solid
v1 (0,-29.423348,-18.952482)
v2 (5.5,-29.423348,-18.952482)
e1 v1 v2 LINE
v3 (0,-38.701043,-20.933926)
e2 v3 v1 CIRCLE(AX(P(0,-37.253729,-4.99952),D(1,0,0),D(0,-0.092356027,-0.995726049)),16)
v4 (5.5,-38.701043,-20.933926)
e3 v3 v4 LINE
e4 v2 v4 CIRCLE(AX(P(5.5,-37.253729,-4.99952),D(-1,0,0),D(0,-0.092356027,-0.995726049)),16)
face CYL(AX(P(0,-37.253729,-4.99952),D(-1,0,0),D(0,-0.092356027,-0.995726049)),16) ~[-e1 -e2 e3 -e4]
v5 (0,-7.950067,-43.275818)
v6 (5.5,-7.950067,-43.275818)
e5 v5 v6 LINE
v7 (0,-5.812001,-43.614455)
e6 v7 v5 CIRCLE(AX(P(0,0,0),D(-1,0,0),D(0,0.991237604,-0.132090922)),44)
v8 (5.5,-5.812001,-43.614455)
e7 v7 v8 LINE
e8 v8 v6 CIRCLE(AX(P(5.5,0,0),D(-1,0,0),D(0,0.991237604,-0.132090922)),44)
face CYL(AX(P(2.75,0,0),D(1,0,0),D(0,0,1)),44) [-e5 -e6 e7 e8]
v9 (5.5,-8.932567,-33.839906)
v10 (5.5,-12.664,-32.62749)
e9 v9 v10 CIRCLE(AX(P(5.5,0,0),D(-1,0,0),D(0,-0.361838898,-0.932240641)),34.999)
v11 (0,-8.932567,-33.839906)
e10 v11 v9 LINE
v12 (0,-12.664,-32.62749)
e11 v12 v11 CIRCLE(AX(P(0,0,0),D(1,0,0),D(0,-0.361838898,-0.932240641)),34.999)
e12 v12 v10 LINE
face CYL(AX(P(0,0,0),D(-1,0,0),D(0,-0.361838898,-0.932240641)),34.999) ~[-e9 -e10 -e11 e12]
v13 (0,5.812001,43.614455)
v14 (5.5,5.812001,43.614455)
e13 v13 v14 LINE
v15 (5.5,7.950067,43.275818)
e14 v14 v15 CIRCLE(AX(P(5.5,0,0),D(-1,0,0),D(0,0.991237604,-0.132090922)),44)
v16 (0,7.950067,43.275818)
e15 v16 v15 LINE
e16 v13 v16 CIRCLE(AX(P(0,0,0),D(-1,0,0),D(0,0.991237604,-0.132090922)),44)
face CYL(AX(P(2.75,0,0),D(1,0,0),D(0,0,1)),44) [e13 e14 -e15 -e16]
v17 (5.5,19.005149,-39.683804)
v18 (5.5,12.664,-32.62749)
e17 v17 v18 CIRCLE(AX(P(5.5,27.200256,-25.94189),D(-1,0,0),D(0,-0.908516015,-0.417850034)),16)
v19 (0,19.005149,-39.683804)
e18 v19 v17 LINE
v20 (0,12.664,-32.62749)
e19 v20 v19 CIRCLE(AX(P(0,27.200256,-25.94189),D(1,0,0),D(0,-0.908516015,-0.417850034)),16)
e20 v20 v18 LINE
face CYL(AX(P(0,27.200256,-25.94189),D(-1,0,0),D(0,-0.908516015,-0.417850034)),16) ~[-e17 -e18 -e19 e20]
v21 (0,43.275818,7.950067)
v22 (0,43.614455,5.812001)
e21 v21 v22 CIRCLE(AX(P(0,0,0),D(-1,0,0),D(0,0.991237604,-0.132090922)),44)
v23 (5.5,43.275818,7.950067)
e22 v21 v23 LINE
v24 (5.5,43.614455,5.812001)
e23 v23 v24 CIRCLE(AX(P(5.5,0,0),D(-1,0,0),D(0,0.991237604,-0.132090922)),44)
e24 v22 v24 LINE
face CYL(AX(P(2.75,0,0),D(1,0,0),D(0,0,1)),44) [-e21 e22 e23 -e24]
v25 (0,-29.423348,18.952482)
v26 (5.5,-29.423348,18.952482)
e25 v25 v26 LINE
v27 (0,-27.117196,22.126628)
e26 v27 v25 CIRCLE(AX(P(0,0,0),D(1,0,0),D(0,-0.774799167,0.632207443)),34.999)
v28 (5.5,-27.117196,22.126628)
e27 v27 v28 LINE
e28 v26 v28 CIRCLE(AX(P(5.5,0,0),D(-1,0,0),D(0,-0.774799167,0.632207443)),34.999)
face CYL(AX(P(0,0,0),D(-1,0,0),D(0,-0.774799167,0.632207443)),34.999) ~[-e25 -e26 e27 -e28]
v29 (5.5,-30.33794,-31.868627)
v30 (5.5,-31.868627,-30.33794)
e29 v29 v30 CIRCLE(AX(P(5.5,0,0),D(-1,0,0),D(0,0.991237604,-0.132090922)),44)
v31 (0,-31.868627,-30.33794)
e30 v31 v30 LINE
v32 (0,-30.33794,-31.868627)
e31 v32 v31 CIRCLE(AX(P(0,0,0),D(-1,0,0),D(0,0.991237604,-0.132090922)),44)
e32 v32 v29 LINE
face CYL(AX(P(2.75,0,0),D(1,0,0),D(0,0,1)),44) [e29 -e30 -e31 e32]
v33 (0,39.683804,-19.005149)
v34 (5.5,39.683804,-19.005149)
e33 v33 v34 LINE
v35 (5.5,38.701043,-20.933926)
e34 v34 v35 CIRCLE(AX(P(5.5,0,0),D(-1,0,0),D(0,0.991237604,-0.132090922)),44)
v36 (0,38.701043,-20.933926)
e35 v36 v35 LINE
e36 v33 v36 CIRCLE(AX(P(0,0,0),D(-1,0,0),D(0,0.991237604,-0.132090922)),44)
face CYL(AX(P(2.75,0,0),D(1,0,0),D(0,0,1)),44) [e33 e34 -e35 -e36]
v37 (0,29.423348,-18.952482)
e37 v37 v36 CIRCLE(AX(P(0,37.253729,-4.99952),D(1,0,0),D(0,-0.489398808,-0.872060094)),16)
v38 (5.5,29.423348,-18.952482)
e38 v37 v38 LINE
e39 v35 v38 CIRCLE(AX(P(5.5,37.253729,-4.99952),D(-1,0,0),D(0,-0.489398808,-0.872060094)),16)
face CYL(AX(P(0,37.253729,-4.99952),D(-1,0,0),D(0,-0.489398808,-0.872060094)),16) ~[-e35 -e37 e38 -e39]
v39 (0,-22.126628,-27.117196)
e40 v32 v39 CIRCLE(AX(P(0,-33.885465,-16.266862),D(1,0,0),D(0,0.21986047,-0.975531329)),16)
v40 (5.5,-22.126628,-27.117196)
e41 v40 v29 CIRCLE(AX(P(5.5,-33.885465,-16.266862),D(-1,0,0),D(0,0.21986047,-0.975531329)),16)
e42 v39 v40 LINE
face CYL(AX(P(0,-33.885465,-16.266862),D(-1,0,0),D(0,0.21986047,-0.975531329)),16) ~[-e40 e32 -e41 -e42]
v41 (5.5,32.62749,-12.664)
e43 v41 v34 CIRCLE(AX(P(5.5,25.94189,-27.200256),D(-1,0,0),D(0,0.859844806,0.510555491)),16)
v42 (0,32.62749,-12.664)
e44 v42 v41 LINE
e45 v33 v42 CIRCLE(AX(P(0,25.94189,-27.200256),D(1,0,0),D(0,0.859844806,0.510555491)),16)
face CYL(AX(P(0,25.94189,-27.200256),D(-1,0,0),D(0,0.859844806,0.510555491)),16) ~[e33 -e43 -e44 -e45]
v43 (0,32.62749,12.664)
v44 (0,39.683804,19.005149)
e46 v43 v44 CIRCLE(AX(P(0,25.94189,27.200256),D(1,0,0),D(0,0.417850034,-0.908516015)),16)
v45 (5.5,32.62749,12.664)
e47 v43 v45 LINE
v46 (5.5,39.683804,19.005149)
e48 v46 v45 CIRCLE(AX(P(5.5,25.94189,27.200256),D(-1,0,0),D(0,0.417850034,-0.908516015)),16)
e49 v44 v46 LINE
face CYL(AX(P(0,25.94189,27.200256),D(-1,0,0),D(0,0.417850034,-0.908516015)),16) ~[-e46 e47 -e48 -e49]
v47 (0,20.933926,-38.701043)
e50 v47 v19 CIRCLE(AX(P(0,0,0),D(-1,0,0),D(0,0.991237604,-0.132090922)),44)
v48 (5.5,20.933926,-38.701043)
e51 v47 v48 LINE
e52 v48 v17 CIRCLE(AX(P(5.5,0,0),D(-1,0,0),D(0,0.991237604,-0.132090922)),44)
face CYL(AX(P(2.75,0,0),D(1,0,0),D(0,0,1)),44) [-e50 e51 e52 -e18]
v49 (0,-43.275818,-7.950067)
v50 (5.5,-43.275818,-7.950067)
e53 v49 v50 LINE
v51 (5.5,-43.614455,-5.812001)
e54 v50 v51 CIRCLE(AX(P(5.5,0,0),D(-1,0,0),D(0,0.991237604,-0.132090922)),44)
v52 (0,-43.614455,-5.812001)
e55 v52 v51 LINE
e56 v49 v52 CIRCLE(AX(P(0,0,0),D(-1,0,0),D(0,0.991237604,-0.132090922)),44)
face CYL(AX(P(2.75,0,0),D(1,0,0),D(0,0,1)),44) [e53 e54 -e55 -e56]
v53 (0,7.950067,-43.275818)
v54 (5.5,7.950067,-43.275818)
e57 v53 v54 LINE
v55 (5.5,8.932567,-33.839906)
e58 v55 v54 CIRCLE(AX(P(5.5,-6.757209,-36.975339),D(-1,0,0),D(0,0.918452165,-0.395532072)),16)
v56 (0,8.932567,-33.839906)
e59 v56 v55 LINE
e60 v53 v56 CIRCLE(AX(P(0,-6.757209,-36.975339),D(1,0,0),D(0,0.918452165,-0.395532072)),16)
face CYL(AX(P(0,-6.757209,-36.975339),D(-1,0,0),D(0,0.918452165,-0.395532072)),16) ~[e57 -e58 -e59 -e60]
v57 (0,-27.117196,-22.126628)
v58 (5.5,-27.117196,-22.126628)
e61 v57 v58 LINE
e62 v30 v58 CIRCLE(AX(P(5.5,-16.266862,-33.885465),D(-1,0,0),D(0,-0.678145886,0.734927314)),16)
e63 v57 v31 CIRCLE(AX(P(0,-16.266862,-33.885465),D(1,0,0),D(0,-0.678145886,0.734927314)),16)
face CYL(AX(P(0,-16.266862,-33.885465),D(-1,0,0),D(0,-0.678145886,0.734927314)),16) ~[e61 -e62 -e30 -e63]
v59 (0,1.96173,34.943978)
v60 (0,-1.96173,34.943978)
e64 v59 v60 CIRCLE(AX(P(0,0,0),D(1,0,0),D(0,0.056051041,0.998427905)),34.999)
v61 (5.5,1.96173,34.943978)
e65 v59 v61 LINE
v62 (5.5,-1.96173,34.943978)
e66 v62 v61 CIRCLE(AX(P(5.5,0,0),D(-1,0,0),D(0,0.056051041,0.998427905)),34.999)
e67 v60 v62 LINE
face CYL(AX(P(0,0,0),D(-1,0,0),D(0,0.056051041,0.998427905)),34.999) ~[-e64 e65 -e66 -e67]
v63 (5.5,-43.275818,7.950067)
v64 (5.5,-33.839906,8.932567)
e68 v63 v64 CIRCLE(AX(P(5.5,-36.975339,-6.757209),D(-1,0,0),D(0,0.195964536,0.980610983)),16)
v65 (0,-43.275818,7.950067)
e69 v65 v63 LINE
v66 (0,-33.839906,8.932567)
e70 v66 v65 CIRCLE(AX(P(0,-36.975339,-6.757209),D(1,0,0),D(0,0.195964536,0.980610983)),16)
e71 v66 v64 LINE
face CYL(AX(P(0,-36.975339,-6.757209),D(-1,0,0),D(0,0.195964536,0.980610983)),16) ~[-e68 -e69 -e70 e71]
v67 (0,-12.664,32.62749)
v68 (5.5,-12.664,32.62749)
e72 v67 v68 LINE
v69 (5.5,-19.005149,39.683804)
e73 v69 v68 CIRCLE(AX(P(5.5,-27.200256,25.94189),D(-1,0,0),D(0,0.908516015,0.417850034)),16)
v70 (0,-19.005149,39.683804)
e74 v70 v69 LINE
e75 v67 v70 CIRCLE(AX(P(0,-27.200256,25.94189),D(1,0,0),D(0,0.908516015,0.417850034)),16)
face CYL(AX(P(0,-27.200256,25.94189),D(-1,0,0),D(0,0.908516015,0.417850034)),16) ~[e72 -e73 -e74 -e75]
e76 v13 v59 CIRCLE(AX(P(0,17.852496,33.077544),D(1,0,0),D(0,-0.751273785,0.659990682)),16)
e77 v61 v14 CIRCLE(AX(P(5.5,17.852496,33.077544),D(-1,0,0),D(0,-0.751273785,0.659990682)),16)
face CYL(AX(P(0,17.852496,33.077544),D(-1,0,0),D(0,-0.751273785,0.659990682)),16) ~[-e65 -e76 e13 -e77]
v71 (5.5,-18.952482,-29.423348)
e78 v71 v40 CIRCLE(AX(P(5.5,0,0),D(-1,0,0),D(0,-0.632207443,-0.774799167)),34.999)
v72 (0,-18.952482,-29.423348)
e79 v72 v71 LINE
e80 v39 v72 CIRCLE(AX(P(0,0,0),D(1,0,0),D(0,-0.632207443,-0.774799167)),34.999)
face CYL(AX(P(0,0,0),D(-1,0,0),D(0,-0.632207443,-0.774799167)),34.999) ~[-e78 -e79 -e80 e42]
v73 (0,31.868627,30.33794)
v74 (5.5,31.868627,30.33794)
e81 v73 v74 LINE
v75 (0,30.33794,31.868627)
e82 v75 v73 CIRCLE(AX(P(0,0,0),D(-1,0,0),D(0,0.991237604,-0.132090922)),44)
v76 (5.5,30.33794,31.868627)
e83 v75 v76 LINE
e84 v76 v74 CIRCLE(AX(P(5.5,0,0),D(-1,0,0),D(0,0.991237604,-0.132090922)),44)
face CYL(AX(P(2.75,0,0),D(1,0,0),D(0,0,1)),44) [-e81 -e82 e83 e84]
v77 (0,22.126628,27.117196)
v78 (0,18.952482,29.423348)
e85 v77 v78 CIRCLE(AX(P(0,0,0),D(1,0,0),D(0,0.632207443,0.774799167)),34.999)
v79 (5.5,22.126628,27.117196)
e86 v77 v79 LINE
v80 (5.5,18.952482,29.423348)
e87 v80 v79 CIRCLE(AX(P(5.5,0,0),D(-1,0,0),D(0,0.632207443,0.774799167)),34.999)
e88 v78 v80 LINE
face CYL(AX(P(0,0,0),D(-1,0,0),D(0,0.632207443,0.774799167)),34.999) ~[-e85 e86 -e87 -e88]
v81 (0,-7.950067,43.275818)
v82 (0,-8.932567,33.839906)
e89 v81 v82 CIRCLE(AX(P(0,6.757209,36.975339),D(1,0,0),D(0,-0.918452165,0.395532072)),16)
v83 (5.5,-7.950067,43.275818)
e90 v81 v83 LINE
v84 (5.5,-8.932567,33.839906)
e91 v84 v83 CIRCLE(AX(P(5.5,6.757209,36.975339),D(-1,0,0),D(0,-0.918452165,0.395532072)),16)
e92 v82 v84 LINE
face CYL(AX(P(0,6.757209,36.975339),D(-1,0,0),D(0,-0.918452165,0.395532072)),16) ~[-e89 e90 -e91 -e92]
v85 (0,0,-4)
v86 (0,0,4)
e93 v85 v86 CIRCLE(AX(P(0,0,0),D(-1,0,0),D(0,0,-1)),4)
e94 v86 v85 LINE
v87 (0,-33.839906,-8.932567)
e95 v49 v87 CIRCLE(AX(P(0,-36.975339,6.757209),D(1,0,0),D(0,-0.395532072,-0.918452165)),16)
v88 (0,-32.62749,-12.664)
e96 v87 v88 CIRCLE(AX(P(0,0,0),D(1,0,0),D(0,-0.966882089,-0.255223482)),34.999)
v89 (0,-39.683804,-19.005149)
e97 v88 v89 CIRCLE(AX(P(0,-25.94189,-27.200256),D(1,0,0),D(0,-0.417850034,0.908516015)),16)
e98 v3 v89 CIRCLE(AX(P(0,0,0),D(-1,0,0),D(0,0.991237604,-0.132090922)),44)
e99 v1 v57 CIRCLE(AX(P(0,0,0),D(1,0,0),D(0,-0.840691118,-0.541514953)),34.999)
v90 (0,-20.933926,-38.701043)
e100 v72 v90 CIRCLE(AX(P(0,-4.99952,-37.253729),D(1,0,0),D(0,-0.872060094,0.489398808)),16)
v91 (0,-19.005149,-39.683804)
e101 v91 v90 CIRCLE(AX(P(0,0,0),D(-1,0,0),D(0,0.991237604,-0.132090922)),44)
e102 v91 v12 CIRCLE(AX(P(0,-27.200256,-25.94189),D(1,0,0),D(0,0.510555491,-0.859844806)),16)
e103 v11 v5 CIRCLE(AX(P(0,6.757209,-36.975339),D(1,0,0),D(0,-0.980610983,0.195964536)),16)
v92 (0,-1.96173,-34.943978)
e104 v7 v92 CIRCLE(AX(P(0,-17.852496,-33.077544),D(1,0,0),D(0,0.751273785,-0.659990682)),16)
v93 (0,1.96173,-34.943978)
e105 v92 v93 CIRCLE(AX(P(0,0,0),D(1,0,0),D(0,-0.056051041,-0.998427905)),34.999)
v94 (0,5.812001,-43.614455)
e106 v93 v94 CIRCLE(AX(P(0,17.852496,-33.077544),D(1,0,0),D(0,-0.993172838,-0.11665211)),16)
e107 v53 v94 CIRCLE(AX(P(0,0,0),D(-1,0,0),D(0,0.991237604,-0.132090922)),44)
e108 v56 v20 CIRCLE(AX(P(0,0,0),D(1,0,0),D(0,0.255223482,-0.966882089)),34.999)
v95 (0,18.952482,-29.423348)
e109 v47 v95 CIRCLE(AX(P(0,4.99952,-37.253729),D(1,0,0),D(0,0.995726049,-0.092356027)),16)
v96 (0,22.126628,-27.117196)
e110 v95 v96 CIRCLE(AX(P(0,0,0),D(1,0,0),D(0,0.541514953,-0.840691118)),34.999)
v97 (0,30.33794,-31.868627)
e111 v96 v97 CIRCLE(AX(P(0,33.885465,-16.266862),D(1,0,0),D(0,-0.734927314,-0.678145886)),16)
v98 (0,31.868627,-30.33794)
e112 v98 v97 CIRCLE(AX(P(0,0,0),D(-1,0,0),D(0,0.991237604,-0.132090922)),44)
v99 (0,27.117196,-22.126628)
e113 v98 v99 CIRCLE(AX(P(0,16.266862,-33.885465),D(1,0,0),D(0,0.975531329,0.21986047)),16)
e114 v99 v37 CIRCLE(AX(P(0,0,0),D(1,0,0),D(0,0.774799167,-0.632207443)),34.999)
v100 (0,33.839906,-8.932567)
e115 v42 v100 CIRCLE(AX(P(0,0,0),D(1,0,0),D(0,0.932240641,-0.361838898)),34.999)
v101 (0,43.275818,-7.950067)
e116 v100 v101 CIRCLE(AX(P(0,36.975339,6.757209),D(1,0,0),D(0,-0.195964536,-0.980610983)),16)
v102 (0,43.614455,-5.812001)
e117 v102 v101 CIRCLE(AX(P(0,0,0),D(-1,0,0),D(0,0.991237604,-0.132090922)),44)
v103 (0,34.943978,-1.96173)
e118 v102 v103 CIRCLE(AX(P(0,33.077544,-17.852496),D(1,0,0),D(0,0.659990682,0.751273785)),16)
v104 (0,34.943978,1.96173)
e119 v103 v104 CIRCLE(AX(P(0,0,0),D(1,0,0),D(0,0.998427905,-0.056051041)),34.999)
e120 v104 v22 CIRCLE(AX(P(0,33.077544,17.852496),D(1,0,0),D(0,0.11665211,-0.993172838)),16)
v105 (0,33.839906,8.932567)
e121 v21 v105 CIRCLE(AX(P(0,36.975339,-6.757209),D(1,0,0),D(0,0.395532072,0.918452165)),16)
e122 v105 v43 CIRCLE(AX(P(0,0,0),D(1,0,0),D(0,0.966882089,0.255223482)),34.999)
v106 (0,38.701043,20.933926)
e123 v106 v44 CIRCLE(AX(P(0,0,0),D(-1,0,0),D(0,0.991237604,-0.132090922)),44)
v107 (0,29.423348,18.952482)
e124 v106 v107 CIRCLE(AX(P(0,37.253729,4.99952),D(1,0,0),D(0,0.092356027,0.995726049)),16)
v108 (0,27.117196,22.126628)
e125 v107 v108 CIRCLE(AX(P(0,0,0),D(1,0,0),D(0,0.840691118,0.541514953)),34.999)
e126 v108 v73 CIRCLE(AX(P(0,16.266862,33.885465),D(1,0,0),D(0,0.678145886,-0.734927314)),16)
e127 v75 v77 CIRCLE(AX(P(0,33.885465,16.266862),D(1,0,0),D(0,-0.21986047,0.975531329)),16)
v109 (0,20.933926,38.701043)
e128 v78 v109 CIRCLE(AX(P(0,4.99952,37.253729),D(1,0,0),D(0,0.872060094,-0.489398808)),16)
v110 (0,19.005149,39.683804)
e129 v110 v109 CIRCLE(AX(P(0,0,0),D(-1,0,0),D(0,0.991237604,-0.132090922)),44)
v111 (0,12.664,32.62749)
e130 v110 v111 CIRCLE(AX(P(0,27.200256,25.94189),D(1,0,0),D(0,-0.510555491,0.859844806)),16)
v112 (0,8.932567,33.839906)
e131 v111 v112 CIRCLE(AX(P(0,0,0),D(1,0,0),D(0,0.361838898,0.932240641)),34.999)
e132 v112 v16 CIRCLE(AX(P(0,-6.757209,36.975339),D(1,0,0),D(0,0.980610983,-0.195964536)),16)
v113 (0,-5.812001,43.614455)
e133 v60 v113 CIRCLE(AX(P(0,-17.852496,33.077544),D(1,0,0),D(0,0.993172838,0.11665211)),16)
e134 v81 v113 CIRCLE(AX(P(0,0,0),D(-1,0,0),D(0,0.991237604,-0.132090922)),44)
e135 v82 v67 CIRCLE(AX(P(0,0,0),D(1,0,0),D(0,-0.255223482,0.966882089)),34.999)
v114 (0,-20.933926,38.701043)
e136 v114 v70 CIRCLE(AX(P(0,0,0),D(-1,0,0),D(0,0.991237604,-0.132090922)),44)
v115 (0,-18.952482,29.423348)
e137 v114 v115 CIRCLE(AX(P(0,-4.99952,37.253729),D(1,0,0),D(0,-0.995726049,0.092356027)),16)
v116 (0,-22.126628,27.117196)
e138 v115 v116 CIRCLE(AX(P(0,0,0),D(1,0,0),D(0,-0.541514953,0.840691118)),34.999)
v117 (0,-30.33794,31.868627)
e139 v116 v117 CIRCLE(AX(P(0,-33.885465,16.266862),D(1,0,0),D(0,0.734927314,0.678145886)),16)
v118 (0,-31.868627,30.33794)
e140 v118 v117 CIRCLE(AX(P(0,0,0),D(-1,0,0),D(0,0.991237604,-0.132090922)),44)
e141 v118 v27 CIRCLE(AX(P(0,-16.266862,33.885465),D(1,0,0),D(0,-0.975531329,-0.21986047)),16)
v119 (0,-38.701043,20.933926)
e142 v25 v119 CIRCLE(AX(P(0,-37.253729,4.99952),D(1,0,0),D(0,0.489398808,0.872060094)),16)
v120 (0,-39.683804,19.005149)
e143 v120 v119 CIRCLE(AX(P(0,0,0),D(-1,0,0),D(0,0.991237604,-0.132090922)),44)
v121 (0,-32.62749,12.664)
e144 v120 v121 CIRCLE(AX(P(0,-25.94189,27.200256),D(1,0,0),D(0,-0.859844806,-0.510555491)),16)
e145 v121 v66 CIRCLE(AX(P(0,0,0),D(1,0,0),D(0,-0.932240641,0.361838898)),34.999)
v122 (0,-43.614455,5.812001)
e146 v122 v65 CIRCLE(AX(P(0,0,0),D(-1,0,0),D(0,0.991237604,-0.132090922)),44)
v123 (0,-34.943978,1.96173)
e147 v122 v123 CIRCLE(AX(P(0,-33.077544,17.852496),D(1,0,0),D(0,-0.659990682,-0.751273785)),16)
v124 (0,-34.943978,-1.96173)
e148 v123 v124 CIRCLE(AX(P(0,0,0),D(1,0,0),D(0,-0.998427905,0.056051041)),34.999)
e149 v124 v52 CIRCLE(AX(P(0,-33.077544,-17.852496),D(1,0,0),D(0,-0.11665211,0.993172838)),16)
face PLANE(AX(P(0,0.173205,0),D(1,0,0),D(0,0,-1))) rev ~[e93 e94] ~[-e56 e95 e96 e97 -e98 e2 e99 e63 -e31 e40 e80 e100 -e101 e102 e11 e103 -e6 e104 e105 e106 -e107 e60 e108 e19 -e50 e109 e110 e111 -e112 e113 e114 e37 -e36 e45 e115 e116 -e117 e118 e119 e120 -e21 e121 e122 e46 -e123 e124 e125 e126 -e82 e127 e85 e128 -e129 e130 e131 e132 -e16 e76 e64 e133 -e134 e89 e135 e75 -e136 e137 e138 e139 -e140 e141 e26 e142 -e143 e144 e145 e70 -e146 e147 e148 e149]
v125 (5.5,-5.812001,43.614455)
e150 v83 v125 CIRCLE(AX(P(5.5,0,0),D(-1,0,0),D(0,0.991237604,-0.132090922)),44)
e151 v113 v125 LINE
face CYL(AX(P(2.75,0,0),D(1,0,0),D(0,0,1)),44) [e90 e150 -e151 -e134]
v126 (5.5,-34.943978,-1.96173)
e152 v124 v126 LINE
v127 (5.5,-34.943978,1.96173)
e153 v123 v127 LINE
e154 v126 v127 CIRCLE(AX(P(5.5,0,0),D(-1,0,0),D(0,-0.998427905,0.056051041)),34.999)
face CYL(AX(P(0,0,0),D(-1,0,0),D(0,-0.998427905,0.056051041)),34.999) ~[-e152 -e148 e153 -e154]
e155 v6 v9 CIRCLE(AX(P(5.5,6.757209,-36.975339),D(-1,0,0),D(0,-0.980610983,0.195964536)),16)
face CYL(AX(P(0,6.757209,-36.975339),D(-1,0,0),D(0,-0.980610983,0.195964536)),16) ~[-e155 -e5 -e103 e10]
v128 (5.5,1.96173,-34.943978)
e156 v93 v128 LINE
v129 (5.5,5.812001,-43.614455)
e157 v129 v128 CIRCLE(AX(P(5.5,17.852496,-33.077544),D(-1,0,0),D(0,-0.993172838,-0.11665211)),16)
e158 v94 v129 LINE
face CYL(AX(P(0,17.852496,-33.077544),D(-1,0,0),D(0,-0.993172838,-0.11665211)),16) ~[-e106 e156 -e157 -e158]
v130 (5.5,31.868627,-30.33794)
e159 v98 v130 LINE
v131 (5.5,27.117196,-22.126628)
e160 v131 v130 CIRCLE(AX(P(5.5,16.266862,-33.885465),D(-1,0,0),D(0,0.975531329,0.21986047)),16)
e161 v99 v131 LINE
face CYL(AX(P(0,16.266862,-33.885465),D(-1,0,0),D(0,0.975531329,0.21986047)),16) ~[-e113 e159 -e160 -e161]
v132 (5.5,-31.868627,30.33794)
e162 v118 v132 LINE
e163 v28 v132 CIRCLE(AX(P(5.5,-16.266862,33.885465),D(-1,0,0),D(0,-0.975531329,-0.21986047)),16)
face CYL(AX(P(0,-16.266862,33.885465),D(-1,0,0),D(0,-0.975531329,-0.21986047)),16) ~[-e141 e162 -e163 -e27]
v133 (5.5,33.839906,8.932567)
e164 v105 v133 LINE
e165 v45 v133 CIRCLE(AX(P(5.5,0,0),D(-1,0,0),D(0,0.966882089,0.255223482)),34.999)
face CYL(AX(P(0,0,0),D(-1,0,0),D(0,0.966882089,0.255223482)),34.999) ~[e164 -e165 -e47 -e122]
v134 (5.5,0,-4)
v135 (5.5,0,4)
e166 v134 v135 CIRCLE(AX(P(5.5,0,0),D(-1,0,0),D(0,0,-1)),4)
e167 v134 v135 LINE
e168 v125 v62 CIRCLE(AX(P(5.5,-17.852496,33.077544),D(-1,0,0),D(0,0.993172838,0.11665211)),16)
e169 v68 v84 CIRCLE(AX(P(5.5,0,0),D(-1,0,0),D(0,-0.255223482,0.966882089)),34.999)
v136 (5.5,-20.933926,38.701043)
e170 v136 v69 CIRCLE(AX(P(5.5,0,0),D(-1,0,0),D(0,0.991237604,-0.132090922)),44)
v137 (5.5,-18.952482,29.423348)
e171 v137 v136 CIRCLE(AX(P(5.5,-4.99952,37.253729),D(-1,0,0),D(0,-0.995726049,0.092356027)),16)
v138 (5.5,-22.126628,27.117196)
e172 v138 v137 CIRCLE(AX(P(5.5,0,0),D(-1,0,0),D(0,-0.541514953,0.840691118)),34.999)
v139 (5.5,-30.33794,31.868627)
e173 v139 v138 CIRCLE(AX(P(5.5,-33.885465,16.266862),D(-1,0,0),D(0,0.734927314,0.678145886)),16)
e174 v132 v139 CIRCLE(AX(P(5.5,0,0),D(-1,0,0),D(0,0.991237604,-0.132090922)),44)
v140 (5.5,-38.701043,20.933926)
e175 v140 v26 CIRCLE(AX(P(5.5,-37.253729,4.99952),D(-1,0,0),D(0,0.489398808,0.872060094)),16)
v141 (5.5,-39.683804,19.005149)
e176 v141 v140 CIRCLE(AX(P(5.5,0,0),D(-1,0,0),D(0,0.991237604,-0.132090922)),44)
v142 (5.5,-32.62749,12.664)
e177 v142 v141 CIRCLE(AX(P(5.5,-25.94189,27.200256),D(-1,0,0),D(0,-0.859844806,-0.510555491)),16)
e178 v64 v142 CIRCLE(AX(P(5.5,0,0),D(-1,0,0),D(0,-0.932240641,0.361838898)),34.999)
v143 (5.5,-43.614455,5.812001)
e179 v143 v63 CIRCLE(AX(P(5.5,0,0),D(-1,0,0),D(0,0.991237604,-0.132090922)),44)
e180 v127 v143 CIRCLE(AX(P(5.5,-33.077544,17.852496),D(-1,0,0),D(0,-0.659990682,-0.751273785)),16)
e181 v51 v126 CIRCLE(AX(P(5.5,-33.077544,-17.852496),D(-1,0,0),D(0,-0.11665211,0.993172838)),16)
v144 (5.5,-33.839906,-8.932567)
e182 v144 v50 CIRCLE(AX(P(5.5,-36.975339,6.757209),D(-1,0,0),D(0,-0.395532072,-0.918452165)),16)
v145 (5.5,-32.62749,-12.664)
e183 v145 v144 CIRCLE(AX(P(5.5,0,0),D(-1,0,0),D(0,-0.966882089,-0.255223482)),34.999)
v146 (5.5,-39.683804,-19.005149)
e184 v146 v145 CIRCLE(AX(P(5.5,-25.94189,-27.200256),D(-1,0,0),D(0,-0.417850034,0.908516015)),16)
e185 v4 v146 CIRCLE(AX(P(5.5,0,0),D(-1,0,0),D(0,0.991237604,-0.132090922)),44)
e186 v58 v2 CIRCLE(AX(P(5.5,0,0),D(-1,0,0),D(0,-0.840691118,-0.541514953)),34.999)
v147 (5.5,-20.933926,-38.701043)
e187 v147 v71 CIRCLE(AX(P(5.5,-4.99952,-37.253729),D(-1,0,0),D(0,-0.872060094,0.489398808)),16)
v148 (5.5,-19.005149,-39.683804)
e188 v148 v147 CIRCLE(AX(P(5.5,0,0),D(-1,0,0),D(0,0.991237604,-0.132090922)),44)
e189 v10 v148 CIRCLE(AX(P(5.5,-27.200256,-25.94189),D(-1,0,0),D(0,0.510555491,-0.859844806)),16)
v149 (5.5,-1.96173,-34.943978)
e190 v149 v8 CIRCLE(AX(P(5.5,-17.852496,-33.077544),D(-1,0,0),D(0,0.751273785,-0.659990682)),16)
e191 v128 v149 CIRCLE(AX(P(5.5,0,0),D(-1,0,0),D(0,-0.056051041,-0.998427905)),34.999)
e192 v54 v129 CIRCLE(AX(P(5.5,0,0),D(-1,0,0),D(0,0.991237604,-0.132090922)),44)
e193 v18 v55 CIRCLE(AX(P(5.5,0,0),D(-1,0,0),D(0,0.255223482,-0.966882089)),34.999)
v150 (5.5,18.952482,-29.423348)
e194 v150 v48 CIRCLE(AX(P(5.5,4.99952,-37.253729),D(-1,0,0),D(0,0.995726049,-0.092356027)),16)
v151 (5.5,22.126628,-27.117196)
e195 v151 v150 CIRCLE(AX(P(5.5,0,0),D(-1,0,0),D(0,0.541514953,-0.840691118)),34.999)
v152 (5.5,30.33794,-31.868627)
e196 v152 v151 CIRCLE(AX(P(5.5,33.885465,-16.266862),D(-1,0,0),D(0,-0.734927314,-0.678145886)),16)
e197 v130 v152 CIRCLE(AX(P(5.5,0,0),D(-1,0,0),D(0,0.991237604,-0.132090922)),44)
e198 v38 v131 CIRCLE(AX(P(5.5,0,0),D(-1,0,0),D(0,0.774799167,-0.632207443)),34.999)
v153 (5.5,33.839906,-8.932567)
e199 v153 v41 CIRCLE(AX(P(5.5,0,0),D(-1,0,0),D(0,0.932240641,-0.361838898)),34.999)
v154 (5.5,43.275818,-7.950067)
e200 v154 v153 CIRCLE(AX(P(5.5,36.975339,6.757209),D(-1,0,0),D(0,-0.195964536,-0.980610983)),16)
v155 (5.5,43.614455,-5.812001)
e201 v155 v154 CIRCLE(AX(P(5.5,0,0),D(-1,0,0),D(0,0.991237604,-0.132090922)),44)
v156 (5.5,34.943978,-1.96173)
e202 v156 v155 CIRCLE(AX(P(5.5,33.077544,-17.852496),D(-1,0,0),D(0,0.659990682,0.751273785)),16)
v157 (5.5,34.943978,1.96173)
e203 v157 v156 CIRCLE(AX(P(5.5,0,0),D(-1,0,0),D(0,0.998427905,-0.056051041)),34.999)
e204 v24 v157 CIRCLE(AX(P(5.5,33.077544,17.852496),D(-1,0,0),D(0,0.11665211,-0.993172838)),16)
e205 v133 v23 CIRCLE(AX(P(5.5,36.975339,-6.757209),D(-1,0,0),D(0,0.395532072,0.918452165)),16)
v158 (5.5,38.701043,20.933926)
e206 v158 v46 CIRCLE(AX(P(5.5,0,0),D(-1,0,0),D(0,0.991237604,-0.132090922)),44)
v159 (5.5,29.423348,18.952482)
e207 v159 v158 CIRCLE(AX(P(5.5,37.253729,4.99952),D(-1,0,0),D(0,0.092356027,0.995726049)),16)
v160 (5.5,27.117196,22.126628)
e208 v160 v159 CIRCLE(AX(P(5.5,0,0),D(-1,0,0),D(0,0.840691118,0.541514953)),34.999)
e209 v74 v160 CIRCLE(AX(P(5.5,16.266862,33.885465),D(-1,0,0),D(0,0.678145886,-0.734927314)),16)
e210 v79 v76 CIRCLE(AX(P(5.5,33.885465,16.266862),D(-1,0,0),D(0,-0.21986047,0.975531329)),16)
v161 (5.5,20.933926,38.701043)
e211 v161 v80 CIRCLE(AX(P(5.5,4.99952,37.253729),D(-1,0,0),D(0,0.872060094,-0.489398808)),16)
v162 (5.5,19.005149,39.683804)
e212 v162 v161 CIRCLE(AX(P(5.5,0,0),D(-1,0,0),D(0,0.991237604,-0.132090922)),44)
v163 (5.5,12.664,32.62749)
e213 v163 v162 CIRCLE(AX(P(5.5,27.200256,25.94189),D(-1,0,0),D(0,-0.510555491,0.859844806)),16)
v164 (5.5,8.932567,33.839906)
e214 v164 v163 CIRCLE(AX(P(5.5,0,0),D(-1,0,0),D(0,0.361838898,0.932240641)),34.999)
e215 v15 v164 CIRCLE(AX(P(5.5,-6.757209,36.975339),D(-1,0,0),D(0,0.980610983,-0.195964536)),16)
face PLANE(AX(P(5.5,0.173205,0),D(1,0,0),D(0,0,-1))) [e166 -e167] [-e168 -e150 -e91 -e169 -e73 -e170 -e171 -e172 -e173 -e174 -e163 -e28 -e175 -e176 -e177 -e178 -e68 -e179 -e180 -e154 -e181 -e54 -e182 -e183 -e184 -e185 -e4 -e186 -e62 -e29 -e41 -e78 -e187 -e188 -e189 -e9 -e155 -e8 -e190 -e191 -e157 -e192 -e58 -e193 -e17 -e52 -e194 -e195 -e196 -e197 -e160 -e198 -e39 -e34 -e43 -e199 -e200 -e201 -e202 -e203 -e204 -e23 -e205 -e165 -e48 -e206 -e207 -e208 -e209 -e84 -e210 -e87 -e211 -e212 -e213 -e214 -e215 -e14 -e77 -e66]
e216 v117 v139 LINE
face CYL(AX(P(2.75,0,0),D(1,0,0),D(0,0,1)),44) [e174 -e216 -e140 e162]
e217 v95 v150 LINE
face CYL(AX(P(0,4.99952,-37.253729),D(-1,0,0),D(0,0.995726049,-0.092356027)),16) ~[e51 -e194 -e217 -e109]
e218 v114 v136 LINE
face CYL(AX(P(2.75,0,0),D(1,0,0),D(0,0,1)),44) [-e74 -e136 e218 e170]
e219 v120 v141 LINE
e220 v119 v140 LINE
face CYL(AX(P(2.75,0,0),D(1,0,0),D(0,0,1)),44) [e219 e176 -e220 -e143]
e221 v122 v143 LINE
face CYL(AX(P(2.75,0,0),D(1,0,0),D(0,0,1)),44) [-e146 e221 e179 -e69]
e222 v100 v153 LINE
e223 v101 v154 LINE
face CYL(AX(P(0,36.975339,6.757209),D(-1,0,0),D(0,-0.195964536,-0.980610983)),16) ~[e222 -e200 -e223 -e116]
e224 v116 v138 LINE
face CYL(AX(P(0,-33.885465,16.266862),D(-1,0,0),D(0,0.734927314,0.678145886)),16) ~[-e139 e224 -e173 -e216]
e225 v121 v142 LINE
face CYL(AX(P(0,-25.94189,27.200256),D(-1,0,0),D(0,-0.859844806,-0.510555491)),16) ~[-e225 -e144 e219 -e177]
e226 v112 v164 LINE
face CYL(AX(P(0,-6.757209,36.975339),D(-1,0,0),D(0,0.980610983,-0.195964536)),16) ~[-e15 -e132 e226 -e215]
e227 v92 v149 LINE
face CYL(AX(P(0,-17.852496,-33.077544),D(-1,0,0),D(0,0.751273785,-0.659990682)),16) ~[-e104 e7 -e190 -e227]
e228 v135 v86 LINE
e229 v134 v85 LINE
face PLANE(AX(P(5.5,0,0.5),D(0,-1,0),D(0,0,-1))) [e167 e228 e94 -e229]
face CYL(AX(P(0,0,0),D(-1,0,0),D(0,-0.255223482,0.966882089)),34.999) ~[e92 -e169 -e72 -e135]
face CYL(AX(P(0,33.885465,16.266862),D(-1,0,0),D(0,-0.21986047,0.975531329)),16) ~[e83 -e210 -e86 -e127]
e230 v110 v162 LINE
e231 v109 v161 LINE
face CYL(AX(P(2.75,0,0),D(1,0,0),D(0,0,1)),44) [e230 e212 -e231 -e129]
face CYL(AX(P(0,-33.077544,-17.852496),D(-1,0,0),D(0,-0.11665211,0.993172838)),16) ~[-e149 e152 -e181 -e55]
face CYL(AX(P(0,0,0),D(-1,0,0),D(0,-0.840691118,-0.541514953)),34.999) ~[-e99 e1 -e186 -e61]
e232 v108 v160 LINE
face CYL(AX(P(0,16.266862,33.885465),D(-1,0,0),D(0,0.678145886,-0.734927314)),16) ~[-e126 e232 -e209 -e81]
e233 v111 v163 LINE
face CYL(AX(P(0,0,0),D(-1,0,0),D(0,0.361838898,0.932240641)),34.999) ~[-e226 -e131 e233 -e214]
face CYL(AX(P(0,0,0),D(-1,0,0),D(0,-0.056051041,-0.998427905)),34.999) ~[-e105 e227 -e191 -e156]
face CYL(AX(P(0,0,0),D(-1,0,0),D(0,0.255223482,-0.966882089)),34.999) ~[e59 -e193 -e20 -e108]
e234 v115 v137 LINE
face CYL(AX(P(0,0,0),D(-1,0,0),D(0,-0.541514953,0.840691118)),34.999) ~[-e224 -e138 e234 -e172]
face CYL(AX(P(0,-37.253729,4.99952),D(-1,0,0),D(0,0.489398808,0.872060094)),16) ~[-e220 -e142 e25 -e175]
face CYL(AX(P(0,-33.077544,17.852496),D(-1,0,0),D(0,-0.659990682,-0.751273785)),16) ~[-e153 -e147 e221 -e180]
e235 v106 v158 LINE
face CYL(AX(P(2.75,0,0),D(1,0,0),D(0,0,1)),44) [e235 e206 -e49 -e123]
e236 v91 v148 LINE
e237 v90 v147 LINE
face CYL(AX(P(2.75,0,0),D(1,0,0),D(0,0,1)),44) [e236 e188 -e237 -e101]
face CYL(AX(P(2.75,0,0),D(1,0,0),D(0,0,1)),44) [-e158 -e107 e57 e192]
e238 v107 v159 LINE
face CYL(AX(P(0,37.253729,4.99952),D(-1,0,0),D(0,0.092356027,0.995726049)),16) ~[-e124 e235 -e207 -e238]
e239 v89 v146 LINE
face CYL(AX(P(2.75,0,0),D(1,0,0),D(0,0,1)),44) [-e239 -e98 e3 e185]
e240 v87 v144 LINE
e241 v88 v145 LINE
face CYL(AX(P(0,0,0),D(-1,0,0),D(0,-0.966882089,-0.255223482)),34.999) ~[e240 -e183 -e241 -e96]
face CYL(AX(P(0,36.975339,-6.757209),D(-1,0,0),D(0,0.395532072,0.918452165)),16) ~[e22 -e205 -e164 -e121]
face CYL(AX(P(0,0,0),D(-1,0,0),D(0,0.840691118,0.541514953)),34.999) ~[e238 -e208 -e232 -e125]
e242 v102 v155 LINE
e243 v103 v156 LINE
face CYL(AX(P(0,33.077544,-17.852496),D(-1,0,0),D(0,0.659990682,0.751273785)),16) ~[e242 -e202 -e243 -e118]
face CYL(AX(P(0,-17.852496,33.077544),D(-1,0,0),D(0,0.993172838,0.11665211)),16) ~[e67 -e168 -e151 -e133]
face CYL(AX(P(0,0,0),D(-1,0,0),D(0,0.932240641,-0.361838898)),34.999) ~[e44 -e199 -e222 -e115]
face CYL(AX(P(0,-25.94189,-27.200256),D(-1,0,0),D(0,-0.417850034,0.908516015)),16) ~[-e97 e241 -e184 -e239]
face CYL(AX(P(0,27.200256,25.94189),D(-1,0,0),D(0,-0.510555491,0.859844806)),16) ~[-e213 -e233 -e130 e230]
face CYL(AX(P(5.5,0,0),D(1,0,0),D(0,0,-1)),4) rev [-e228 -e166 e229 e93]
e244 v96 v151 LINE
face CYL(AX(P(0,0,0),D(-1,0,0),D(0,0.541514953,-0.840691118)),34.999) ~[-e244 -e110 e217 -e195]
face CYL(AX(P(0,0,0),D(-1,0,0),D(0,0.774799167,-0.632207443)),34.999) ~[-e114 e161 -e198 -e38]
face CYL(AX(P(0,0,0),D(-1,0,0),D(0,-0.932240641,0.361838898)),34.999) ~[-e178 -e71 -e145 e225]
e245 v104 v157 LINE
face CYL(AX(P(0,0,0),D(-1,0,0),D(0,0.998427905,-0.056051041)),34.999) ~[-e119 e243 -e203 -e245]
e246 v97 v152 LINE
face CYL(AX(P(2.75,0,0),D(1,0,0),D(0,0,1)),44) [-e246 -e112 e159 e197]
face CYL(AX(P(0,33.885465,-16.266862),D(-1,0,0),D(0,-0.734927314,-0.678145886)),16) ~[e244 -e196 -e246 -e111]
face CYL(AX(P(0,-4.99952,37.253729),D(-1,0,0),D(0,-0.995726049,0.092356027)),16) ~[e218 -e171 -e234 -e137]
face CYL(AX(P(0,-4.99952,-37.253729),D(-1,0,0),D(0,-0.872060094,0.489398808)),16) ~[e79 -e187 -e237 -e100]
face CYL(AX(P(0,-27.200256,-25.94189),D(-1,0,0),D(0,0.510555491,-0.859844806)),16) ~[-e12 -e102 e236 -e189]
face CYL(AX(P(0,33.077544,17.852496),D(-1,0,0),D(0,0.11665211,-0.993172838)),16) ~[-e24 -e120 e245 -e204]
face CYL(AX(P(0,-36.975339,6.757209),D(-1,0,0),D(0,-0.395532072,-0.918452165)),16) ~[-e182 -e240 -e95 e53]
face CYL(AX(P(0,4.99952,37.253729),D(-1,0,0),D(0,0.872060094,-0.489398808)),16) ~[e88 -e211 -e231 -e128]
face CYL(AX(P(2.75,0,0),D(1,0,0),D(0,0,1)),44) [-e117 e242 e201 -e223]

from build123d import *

# Parameters (mm, degrees)
BASPROSKE_W             = 5.5
BASPROSKE_H             = 44
TOOTHCUT_DEPTH          = 63.467991804
TEETHCUTS_COUNT         = 20
TEETHCUTS_ANGLE         = 342
BORSKE_R                = 0.5
BORE_DEPTH              = 50.0000508
CORTAR_EXTRUIR1_DEPTH   = 5.5
SALIENTE_EXTRUIR1_DEPTH = 5.5


with BuildPart() as part:
    # BasProSke → Base-Revolve (revolve)
    with BuildSketch(Plane(origin=(0, 0, 0), x_dir=(1, 0, 0), z_dir=(0, 1, 0)), mode=Mode.PRIVATE) as base_revolve_sk:
        with Locations((2.75, 22)):
            Rectangle(BASPROSKE_W, BASPROSKE_H)
    revolve(base_revolve_sk.sketch.rotate(Axis((-10, 0, 0), (1, 0, 0)), 180), axis=Axis((-10, 0, 0), (1, 0, 0)))

    # TooCutSke → ToothCut (cut, through all)
    with BuildSketch(Plane(origin=(0, 0, 0), x_dir=(0, 0, -1), z_dir=(1, 0, 0))):
        with BuildLine():
            ThreePointArc((1.961730392, 34.943978235), (0, 34.999), (-1.961730392, 34.943978235))
            ThreePointArc((-1.961730392, 34.943978235), (-3.235659864, 39.585086827), (-5.832115241, 43.637395396))
            ThreePointArc((-5.832115241, 43.637395396), (0, 44.0254), (5.832115241, 43.637395396))
            ThreePointArc((5.832115241, 43.637395396), (3.235659864, 39.585086827), (1.961730392, 34.943978235))
        make_face()
    toothcut = extrude(amount=TOOTHCUT_DEPTH, mode=Mode.SUBTRACT)

    # TeethCuts: ToothCut ×20 about axis
    teethcuts_axis = Axis((-10, 0, 0), (1, 0, 0))
    for i in range(1, TEETHCUTS_COUNT):
        add(toothcut.rotate(teethcuts_axis, i * TEETHCUTS_ANGLE / (TEETHCUTS_COUNT - 1)), mode=Mode.SUBTRACT)

    # BorSke → Bore (cut, symmetric)
    with BuildSketch(Plane(origin=(0, 0, 0), x_dir=(0, 0, -1), z_dir=(1, 0, 0))):
        with Locations(Location((0, 0, 0), (0, 0, 180))):
            Circle(BORSKE_R)
    extrude(amount=BORE_DEPTH, both=True, mode=Mode.SUBTRACT)

    # Croquis1 → Cortar-Extruir1 (cut)
    with BuildSketch(Plane(origin=(5.5, 0, 0), x_dir=(0, 0, -1), z_dir=(1, 0, 0))):
        with BuildLine():
            Line((-4, 0), (4, 0))
            ThreePointArc((4, 0), (0, -4), (-4, 0))
        make_face()
    extrude(amount=-CORTAR_EXTRUIR1_DEPTH, mode=Mode.SUBTRACT)

    # Croquis2 → Saliente-Extruir1 (add)
    with BuildSketch(Plane(origin=(5.5, 0, 0), x_dir=(0, 0, -1), z_dir=(1, 0, 0))):
        with BuildLine():
            Line((-0.5, 0), (0.5, 0))
            ThreePointArc((0.5, 0), (0, 0.5), (-0.5, 0))
        make_face()
    extrude(amount=-SALIENTE_EXTRUIR1_DEPTH)


solid = part.part
